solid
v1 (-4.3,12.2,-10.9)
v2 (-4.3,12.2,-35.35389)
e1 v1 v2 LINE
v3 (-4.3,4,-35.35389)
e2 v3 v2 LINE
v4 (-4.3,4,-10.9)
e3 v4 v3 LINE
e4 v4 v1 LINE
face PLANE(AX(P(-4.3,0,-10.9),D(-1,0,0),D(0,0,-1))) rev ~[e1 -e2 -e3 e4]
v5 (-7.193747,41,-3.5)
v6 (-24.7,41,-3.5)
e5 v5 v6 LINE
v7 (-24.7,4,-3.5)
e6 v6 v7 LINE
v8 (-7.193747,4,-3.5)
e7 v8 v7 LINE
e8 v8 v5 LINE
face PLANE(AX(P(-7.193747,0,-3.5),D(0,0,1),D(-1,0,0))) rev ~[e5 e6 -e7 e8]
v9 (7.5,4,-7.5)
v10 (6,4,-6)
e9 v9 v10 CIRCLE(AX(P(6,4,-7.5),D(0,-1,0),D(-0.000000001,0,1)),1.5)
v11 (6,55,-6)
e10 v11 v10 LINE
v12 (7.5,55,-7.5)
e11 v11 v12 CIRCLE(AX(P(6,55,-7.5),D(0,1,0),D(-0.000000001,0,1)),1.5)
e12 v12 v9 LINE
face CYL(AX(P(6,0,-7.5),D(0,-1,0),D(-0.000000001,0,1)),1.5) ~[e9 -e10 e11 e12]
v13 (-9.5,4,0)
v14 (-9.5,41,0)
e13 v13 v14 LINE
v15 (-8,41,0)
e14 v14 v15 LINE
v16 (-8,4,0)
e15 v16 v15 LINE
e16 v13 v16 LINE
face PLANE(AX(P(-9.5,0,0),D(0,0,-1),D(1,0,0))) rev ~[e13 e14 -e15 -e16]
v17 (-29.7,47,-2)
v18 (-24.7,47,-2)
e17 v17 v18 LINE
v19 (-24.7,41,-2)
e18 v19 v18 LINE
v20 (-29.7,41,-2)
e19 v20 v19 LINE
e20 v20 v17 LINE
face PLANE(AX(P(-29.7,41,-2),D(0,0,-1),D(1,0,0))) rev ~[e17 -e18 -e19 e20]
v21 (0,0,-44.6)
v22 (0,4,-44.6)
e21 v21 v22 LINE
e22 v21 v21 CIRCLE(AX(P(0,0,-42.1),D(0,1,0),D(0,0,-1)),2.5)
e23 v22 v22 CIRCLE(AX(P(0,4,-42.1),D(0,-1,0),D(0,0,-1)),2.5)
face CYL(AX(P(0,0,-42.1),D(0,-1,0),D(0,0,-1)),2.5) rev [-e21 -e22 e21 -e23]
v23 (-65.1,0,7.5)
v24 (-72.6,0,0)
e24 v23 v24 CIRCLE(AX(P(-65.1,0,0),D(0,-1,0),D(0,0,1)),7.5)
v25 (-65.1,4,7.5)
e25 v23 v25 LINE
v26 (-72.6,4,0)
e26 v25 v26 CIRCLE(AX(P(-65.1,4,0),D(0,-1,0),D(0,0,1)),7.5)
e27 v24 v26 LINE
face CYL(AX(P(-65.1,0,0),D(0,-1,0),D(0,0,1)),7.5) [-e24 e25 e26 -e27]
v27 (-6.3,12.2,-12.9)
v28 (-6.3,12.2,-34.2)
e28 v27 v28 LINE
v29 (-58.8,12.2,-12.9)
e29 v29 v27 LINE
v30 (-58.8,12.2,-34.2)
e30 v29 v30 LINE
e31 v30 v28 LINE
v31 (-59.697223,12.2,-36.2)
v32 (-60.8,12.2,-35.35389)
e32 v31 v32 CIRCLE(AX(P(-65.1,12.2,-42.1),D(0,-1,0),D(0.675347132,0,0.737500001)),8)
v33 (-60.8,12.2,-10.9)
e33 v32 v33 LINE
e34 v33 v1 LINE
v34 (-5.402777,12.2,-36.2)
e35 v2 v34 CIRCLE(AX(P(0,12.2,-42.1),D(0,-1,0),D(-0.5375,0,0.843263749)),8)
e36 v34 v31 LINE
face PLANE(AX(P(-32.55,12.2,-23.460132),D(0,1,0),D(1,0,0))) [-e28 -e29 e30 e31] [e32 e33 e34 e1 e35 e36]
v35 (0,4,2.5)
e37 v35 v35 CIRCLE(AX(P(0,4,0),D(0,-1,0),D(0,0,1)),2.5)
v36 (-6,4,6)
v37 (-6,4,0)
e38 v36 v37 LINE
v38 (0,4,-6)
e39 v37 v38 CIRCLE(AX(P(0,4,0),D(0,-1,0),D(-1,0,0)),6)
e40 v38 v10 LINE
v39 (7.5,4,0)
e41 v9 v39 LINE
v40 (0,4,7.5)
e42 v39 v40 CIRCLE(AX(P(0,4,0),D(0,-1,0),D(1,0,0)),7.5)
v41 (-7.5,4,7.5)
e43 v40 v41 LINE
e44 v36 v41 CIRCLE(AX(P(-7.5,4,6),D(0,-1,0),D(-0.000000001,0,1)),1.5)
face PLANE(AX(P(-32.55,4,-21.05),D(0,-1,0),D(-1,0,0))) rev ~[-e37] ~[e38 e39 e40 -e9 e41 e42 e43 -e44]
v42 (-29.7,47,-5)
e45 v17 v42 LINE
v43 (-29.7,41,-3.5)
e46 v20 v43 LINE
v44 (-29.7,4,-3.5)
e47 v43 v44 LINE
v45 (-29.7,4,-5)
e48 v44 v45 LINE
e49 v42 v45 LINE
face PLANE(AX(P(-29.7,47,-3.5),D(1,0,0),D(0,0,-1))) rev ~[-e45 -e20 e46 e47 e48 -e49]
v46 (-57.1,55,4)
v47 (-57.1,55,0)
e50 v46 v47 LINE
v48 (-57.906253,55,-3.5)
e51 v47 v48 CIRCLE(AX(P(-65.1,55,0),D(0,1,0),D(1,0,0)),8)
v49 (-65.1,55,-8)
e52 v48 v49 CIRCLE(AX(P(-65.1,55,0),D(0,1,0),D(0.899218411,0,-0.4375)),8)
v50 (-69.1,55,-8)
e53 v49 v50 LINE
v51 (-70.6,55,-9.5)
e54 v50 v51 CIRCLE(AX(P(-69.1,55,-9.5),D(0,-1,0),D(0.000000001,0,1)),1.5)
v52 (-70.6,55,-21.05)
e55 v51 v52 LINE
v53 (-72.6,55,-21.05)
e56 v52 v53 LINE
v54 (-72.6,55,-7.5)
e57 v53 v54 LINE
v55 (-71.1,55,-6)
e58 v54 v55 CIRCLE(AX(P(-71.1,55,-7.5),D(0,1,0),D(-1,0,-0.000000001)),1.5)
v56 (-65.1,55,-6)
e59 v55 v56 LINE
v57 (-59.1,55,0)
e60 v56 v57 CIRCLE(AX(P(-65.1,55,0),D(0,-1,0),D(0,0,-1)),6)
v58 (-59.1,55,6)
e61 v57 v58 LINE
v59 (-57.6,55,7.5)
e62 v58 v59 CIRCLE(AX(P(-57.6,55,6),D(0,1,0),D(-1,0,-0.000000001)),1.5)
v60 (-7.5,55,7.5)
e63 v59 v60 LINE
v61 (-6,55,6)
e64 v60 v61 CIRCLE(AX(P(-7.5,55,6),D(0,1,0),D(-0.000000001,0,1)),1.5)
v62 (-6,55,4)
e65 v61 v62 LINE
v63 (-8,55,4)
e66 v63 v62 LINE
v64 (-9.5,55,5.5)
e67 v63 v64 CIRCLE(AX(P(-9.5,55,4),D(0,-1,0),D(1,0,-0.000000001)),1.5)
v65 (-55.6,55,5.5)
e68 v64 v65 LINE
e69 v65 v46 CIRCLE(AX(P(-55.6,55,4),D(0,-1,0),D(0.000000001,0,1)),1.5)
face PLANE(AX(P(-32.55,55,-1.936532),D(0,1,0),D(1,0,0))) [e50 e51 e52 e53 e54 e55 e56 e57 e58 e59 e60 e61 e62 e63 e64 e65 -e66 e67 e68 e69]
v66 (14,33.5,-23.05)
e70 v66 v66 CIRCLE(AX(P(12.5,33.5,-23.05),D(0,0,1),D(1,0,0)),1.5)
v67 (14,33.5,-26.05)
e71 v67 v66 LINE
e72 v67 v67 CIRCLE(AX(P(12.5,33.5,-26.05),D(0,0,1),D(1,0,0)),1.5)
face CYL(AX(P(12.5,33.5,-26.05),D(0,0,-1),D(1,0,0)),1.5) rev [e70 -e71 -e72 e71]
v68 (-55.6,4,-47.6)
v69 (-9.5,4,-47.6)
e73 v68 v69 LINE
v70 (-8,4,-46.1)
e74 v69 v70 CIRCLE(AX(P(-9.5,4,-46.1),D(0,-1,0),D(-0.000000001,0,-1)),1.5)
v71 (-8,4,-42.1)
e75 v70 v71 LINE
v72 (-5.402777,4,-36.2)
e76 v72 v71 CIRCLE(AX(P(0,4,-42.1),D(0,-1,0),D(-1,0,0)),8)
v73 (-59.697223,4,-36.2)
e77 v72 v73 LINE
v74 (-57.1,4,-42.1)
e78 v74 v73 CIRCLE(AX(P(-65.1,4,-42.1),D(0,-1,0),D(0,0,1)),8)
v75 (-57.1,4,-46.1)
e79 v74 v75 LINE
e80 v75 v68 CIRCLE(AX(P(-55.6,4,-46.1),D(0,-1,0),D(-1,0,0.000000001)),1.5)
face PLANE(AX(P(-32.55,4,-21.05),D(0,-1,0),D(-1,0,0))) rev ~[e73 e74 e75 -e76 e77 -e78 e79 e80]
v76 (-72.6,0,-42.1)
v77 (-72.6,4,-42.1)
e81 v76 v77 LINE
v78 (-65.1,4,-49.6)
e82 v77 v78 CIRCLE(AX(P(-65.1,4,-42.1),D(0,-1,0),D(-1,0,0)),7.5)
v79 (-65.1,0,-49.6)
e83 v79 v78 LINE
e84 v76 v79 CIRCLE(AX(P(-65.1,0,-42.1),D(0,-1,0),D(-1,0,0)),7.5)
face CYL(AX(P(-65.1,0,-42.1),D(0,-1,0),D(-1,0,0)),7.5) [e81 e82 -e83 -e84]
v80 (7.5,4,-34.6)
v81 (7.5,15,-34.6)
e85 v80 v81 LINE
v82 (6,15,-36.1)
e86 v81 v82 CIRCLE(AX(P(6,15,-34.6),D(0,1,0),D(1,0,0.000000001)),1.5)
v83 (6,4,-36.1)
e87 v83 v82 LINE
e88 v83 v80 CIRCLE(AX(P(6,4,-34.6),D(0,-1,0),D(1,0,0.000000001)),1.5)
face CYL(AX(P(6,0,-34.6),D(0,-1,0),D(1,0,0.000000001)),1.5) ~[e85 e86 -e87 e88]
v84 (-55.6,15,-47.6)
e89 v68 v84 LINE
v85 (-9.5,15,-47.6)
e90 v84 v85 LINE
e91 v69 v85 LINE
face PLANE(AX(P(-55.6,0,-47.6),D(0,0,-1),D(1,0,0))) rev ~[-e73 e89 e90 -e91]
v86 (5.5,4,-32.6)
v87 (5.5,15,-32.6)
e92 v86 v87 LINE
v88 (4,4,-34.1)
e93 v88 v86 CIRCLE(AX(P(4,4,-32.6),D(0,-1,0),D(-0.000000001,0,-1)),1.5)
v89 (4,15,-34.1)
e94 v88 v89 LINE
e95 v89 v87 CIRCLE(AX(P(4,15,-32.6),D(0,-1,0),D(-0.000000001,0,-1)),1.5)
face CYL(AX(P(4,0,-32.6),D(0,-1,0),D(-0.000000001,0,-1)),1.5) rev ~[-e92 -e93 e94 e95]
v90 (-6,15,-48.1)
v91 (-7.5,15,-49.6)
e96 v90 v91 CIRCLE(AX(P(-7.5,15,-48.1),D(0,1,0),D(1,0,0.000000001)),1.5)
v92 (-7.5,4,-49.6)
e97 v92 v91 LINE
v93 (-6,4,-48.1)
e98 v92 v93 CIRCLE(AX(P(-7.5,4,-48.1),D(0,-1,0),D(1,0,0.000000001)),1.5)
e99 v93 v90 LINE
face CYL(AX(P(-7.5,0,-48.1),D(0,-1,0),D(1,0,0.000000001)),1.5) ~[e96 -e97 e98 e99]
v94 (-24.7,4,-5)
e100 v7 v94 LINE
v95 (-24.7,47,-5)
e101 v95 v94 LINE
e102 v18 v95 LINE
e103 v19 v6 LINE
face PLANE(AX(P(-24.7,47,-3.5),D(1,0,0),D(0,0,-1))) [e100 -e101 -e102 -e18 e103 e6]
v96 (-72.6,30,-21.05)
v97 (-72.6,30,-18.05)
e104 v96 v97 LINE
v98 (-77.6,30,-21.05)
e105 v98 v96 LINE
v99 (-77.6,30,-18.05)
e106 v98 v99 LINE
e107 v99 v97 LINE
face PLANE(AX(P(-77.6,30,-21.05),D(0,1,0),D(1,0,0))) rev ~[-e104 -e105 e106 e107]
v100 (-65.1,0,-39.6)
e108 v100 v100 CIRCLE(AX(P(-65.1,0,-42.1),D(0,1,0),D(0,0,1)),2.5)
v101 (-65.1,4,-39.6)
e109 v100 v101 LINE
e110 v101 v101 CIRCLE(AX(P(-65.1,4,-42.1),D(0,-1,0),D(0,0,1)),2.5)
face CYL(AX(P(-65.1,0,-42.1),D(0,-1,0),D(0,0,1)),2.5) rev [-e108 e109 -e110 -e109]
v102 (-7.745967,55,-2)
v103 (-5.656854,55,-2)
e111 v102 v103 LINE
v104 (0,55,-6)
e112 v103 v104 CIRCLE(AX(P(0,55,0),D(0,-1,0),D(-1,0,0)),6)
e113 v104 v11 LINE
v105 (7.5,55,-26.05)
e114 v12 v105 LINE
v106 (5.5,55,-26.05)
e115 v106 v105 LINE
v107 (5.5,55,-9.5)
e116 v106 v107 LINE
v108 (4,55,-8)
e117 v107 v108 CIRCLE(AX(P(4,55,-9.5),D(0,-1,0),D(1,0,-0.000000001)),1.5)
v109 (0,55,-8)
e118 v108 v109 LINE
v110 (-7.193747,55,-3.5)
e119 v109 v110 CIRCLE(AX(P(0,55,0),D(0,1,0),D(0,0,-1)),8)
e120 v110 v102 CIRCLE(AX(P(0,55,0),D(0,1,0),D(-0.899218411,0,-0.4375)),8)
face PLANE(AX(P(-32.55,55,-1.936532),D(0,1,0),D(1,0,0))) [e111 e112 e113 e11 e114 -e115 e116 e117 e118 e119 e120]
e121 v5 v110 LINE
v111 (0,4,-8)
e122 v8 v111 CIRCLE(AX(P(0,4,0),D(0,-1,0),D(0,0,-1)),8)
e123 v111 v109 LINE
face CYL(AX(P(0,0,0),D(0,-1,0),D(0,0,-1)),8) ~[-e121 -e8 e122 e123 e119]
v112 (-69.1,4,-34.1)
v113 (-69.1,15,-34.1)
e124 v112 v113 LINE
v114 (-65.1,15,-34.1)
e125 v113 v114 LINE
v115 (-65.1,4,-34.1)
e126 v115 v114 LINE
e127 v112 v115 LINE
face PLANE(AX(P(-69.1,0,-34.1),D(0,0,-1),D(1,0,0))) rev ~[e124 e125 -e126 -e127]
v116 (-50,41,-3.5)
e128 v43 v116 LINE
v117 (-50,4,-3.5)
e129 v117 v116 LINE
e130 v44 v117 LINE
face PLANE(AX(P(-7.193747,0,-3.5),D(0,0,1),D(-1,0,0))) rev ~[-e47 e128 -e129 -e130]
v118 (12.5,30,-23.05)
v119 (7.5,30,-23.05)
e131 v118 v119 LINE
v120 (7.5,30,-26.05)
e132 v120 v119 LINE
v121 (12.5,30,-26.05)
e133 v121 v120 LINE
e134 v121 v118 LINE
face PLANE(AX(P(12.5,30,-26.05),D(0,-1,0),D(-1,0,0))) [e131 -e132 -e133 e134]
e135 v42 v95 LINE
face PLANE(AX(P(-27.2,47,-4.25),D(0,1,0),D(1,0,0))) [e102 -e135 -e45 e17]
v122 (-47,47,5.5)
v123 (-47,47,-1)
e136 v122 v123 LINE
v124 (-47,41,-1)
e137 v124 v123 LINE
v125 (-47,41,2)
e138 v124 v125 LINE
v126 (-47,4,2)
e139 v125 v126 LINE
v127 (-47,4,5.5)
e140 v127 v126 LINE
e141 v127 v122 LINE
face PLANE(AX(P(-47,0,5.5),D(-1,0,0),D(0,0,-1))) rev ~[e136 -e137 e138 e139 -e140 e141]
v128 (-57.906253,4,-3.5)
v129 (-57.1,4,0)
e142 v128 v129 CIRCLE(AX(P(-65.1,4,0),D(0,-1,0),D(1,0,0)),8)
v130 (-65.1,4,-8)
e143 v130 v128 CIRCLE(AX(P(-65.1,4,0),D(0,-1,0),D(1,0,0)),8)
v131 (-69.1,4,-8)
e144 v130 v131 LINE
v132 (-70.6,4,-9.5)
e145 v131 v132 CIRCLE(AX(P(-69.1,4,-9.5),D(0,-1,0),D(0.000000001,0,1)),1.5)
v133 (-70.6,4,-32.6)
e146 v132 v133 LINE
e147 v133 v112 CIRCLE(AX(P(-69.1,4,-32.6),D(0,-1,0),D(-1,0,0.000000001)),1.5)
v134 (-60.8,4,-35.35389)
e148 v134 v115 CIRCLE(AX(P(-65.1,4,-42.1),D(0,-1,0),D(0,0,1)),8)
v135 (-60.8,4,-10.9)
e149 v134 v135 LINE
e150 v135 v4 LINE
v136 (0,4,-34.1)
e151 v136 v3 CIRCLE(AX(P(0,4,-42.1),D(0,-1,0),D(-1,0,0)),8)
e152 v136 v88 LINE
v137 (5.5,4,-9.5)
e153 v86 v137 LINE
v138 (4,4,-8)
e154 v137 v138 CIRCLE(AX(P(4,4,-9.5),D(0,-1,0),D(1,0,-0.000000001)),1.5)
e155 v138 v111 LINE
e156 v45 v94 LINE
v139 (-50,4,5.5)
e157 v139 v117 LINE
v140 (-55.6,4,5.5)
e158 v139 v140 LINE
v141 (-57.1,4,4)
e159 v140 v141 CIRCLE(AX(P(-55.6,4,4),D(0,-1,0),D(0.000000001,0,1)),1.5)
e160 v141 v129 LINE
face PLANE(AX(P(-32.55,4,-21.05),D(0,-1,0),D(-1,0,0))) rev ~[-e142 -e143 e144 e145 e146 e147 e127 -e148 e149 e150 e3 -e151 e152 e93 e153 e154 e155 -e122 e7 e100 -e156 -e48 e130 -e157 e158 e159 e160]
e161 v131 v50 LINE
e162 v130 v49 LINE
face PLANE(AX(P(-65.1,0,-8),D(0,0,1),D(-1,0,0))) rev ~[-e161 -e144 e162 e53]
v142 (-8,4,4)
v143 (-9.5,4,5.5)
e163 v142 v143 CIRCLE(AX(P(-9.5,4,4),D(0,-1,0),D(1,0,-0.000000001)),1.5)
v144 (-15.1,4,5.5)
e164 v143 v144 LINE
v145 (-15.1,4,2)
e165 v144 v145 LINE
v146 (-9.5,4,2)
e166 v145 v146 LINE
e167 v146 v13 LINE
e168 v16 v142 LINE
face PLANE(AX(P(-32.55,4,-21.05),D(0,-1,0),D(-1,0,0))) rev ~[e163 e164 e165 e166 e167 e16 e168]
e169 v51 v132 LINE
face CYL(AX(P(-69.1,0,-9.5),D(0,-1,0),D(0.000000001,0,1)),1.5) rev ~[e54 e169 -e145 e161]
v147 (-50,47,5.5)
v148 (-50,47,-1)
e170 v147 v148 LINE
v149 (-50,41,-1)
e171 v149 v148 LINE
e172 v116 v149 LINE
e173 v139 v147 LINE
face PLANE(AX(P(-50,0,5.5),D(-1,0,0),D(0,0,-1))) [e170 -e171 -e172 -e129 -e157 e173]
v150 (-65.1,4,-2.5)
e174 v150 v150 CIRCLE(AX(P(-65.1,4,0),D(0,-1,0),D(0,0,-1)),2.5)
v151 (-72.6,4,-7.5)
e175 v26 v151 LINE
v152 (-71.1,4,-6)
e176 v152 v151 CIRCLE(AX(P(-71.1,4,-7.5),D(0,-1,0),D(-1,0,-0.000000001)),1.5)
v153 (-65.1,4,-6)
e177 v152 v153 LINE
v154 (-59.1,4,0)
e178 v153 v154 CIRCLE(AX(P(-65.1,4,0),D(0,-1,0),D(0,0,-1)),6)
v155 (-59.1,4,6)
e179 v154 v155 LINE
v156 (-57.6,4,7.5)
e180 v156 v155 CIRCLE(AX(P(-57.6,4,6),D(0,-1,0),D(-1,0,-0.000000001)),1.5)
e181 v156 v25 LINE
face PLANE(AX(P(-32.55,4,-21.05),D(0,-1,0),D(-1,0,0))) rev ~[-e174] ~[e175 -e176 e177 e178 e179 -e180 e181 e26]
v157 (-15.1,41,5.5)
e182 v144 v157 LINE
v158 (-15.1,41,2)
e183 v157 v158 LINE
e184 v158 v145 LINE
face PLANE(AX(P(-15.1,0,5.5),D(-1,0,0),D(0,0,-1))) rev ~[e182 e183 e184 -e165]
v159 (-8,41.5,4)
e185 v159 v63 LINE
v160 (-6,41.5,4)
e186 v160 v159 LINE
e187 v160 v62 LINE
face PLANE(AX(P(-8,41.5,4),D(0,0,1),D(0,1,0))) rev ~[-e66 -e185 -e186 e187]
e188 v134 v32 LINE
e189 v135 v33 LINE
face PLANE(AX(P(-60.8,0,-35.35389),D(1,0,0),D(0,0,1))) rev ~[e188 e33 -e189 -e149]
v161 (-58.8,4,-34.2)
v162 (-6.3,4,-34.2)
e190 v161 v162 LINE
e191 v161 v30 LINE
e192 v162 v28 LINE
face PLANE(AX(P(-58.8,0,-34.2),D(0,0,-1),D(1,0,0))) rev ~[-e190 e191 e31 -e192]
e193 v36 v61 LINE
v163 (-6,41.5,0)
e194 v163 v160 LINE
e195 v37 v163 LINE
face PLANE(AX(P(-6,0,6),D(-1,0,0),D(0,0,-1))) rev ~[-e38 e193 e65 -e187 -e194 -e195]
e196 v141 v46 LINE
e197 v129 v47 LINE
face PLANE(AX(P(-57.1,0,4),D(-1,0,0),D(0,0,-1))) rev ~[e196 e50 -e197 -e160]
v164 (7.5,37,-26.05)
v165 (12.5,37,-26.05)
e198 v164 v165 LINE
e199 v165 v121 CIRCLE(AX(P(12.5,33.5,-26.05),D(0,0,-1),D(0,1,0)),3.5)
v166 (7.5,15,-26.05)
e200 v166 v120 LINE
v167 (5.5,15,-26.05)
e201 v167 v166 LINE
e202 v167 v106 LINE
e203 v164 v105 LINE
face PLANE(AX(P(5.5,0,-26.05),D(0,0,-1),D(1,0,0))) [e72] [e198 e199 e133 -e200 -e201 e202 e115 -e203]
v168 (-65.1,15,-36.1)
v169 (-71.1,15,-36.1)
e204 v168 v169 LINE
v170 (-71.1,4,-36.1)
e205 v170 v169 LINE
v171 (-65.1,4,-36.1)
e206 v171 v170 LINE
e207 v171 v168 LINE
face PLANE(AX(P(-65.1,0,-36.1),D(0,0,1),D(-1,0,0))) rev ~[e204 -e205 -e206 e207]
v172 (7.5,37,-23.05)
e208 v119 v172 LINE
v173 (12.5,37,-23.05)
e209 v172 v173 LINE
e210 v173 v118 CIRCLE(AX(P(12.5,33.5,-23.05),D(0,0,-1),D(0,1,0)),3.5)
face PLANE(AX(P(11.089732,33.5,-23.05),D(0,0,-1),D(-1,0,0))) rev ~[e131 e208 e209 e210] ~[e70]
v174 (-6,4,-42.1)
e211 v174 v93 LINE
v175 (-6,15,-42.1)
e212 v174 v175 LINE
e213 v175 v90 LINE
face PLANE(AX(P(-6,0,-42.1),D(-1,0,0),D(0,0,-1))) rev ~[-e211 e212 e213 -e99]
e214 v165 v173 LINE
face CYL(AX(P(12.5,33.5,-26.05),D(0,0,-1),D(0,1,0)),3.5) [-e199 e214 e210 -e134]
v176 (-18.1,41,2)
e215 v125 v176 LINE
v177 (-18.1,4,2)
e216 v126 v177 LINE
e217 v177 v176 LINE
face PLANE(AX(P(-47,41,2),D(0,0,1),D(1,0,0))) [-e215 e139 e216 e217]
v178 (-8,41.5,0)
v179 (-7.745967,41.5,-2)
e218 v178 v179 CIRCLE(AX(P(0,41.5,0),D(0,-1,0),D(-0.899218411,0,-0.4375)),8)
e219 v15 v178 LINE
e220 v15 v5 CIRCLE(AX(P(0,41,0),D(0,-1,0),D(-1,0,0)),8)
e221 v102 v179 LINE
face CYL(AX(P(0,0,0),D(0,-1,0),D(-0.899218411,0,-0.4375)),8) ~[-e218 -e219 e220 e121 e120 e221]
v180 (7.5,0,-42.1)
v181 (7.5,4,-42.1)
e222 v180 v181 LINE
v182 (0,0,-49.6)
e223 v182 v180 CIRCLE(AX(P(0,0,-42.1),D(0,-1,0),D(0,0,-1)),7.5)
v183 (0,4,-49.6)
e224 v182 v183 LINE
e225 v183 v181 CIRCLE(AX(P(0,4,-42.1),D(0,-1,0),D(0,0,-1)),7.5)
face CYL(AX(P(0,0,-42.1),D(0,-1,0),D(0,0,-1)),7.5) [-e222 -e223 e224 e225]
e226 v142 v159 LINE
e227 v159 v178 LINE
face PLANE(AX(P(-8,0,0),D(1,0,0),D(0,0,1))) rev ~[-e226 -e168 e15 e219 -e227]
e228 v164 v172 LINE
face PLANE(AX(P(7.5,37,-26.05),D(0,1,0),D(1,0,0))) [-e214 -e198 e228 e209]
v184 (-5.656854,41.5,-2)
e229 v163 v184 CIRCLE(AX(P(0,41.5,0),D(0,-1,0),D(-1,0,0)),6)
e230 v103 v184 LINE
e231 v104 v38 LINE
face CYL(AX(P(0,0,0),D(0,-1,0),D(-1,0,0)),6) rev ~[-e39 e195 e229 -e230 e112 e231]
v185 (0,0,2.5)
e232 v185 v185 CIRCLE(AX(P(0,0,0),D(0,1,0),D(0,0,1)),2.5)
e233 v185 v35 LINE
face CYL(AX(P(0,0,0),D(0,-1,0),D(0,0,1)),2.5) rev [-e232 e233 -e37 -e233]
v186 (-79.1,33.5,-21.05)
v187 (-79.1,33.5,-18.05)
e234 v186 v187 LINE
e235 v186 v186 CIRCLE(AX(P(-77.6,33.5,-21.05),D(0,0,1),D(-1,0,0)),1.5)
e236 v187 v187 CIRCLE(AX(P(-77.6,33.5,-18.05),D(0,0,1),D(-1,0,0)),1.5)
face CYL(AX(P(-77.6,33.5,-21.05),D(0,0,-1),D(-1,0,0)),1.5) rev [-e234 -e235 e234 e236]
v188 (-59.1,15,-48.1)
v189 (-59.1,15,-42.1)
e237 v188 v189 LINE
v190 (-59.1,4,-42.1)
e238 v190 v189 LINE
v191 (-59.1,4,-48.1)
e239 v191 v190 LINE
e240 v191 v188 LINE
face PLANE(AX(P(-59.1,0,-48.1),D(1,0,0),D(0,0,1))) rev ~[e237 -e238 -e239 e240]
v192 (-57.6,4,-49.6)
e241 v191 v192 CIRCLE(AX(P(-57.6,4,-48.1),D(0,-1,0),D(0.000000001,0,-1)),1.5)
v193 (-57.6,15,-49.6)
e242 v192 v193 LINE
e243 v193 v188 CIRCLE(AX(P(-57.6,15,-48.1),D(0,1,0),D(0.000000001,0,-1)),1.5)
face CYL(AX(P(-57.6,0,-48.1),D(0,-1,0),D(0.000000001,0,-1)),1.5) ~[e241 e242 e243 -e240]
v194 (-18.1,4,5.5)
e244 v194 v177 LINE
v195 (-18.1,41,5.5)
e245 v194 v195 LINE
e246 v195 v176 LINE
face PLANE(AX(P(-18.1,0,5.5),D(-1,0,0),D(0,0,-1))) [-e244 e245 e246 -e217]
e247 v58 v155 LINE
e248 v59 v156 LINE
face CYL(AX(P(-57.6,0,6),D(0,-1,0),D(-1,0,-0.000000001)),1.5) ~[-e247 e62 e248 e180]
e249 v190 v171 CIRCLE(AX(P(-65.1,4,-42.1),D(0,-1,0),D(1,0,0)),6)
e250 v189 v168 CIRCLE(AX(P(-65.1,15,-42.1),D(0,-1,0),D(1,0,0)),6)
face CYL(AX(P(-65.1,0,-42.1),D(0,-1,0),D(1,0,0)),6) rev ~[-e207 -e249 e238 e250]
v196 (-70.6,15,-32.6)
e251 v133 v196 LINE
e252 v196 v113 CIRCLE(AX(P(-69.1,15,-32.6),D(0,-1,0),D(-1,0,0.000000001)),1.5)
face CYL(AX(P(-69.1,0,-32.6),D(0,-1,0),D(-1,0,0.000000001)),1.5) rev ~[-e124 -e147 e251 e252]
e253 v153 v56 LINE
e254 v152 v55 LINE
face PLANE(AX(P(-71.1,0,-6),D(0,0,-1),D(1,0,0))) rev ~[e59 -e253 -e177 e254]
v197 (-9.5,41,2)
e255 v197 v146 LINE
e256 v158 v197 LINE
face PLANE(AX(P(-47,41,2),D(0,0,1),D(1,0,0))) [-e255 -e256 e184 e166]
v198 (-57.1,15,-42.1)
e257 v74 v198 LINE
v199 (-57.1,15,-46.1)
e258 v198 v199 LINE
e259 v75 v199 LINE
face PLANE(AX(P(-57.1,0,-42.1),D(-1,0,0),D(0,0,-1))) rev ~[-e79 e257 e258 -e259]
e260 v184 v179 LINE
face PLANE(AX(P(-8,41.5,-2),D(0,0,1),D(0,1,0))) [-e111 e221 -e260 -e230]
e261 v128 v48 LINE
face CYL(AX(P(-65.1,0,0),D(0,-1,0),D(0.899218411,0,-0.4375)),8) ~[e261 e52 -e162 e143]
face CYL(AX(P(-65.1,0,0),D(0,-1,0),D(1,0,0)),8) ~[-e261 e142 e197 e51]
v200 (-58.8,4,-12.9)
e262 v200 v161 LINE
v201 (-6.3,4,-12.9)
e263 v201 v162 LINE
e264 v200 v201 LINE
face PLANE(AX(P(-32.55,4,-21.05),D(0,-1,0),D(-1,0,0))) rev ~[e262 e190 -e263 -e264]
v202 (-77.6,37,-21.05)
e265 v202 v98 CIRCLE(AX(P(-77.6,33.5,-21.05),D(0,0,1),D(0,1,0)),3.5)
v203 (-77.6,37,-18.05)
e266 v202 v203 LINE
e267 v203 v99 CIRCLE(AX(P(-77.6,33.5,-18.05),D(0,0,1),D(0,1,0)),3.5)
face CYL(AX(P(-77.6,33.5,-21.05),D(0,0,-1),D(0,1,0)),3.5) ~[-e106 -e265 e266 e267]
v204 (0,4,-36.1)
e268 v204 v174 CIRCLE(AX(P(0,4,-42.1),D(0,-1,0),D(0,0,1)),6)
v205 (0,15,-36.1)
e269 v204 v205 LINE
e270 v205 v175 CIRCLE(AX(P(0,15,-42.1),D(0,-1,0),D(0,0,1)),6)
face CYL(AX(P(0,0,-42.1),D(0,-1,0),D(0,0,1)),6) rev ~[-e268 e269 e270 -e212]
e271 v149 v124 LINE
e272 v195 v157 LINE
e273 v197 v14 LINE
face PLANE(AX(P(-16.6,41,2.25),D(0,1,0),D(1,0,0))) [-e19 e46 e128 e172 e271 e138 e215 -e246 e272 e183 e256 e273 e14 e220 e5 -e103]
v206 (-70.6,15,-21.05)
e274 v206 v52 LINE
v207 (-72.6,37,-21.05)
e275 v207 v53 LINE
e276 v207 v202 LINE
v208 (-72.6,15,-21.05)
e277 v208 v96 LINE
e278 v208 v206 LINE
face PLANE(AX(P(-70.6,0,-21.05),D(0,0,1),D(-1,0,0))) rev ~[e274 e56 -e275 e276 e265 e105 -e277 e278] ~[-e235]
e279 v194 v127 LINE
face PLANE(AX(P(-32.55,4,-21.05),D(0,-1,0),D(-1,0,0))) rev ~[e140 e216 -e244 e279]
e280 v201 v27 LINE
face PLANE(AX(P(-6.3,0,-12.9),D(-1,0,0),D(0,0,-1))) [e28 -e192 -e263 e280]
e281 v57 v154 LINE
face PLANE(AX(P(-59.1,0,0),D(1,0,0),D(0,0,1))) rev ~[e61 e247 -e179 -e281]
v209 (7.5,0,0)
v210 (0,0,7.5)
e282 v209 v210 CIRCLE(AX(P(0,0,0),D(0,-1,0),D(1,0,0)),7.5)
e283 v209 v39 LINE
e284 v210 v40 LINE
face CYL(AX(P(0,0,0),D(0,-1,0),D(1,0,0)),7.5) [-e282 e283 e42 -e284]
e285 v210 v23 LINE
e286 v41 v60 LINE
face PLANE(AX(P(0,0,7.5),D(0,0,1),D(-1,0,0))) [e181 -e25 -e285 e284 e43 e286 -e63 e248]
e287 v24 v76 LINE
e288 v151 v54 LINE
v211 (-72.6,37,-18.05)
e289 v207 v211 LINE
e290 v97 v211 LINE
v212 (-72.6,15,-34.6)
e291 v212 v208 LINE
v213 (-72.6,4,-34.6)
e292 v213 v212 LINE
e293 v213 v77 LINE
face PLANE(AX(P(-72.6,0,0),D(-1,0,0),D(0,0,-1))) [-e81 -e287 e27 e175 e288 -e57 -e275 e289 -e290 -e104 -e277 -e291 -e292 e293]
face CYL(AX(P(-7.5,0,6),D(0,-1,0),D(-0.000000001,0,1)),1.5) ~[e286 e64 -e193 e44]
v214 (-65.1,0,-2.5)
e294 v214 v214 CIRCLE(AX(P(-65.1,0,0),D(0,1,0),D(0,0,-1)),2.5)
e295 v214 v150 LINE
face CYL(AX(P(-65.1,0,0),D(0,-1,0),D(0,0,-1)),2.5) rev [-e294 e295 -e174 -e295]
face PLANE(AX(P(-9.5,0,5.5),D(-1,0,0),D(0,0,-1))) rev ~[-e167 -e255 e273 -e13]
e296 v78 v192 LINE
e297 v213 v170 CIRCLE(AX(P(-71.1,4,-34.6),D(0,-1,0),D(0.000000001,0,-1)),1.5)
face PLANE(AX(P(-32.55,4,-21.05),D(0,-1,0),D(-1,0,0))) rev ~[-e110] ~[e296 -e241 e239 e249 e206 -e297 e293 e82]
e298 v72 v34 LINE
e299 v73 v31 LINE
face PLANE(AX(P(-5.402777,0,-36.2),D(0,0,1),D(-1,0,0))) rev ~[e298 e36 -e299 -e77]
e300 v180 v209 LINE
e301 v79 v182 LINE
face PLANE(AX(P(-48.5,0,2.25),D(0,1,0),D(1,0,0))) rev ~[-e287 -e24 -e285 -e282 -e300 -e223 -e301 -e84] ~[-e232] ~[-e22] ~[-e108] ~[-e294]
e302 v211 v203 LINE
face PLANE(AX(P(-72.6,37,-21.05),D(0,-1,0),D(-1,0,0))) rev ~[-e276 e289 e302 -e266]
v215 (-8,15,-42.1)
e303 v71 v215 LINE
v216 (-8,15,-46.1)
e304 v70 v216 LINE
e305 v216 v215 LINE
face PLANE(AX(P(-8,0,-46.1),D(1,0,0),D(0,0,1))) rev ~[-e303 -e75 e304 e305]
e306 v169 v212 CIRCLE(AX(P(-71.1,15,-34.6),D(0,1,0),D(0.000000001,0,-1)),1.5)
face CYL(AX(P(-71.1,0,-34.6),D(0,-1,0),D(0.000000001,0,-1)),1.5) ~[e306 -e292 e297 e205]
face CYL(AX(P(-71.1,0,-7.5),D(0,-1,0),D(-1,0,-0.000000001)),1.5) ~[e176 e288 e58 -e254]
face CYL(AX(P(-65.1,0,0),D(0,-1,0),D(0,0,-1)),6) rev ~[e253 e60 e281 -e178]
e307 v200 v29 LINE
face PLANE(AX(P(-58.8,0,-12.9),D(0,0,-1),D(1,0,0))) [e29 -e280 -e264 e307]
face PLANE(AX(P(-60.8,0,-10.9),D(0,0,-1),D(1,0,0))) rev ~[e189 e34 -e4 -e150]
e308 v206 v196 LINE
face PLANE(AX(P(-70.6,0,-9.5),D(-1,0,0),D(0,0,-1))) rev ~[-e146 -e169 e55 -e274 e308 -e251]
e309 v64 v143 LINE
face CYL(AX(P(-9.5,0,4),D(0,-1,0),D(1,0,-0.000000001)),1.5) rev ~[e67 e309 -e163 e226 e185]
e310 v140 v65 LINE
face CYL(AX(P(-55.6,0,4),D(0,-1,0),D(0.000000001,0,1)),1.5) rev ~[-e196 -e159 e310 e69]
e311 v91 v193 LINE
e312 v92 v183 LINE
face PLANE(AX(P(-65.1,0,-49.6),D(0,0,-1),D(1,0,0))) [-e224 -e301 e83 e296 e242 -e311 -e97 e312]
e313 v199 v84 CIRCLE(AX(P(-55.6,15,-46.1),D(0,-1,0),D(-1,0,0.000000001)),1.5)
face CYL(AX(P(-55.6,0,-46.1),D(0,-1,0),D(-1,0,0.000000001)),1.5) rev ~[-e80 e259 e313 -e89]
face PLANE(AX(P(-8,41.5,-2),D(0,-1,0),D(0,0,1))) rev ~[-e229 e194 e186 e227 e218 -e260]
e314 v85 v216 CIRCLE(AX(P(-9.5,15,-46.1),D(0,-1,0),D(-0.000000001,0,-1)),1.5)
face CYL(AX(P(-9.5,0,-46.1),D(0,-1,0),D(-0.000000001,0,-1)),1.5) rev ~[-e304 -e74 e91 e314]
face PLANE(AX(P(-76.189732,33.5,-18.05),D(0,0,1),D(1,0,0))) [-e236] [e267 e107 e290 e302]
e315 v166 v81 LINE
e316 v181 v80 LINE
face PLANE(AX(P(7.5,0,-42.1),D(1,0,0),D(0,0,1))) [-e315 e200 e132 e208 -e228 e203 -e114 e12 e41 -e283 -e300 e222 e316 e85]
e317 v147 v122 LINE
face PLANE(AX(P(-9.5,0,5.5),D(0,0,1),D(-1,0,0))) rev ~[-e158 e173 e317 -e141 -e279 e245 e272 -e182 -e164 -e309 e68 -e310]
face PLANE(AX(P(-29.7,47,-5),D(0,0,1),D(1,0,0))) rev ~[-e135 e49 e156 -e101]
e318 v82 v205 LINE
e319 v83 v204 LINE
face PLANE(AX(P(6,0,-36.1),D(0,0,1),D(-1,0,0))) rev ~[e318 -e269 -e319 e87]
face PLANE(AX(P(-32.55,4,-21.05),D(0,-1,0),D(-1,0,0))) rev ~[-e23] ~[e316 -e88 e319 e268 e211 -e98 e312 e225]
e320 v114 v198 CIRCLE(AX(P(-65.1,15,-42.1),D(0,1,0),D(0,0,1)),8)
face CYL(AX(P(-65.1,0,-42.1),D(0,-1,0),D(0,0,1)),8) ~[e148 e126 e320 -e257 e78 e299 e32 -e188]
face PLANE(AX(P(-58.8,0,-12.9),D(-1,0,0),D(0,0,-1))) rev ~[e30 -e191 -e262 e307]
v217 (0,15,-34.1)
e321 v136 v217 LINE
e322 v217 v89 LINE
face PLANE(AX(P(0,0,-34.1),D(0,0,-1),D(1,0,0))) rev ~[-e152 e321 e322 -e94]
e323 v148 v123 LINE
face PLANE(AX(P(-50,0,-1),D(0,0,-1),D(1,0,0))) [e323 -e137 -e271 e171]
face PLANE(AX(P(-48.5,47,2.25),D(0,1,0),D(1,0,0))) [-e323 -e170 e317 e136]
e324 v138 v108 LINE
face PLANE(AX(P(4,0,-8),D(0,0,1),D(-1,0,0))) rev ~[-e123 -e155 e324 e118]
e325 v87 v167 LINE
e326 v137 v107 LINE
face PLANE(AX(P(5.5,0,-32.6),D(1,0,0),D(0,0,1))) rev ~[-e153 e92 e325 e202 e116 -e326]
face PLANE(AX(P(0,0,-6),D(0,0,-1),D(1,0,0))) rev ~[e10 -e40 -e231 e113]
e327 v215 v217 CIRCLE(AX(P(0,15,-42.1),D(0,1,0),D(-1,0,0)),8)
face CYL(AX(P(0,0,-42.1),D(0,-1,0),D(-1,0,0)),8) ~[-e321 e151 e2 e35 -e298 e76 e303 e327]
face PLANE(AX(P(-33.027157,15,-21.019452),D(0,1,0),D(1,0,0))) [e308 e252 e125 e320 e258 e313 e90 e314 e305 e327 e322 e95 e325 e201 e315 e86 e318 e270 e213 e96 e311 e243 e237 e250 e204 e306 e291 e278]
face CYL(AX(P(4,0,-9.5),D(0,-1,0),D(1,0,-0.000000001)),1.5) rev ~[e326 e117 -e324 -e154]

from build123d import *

# Parameters (mm, degrees)
EXTRUDE_1_DEPTH     = 4
SKETCH_1_3_R        = 2.5
CUT_EXTRUDE_1_DEPTH = 5
SKETCH_1_4_W        = 52.5
SKETCH_1_4_H        = 21.3
EXTRUDE_2_DEPTH     = 12.2
EXTRUDE_5_DEPTH     = 15
SKETCH_1_8_W        = 2
SKETCH_1_8_H        = 5
EXTRUDE_7_DEPTH     = 55
EXTRUDE_8_DEPTH     = 41
CUT_EXTRUDE_START   = -51.1
SKETCH_4_W          = 6
SKETCH_4_H          = 13.5
CUT_EXTRUDE_2_DEPTH = 2.5
SKETCH_7_W          = 37.5
SKETCH_7_H          = 3.5
CUT_EXTRUDE_3_DEPTH = 37
SKETCH_1_12_W       = 3
SKETCH_1_12_H       = 6.5
EXTRUDE_10_DEPTH    = 41
SKETCH_7_4_W        = 5
SKETCH_7_4_H        = 1.5
EXTRUDE_12_DEPTH    = 6
SKETCH_1_13_W       = 3
SKETCH_1_13_H       = 6.5
EXTRUDE_13_DEPTH    = 47
EXTRUDE_START       = 6
SKETCH_7_5_W        = 5
SKETCH_7_5_H        = 1.5
EXTRUDE_14_DEPTH    = 43
EXTRUDE_START_2     = -28.55
SKETCH_8_R          = 1.5
EXTRUDE_15_DEPTH    = 3
EXTRUDE_START_3     = -33.55
SKETCH_8_3_R        = 1.5
EXTRUDE_16_DEPTH    = 3


with BuildPart() as part:
    # Эскиз1 → Бобышка-Вытянуть1 (new body)
    with BuildSketch(Plane(origin=(0, 0, 0), x_dir=(1, 0, 0), z_dir=(0, 1, 0))):
        with BuildLine():
            Line((-65.1, 49.6), (0, 49.6))
            ThreePointArc((0, 49.6), (5.303300859, 47.403300859), (7.5, 42.1))
            Line((7.5, 42.1), (7.5, 0))
            ThreePointArc((7.5, 0), (5.303300859, -5.303300859), (0, -7.5))
            Line((0, -7.5), (-65.1, -7.5))
            ThreePointArc((-65.1, -7.5), (-70.403300859, -5.303300859), (-72.6, 0))
            Line((-72.6, 0), (-72.6, 42.1))
            ThreePointArc((-72.6, 42.1), (-70.403300859, 47.403300859), (-65.1, 49.6))
        make_face()
    extrude(amount=EXTRUDE_1_DEPTH)

    # Эскиз1<3> → Вырез-Вытянуть1 (cut)
    with BuildSketch(Plane(origin=(0, 0, 0), x_dir=(1, 0, 0), z_dir=(0, 1, 0))):
        with Locations(Location((-65.1, 42.1, 0), (0, 0, 270))):
            Circle(SKETCH_1_3_R)
        with Locations(Location((0, 42.1, 0), (0, 0, 90))):
            Circle(SKETCH_1_3_R)
        with Locations(Location((0, 0, 0), (0, 0, 270))):
            Circle(SKETCH_1_3_R)
        with Locations(Location((-65.1, 0, 0), (0, 0, 90))):
            Circle(SKETCH_1_3_R)
    extrude(amount=CUT_EXTRUDE_1_DEPTH, mode=Mode.SUBTRACT)

    # Эскиз1<4> → Бобышка-Вытянуть2 (add)
    with BuildSketch(Plane(origin=(0, 0, 0), x_dir=(1, 0, 0), z_dir=(0, 1, 0))):
        with BuildLine():
            ThreePointArc((-59.697222936, 36.2), (-60.230200598, 35.752949206), (-60.8, 35.35389001))
            Line((-60.8, 35.35389001), (-60.8, 10.9))
            Line((-60.8, 10.9), (-4.3, 10.9))
            Line((-4.3, 10.9), (-4.3, 35.35389001))
            ThreePointArc((-4.3, 35.35389001), (-4.869799402, 35.752949206), (-5.402777064, 36.2))
            Line((-5.402777064, 36.2), (-59.697222936, 36.2))
        make_face()
        with Locations((-32.55, 23.55)):
            Rectangle(SKETCH_1_4_W, SKETCH_1_4_H, mode=Mode.SUBTRACT)
    extrude(amount=EXTRUDE_2_DEPTH)

    # Эскиз1<7> → Бобышка-Вытянуть5 (add)
    with BuildSketch(Plane(origin=(0, 0, 0), x_dir=(1, 0, 0), z_dir=(0, 1, 0))):
        with BuildLine():
            Line((-7.5, 49.6), (-57.6, 49.6))
            ThreePointArc((-57.6, 49.6), (-58.660660172, 49.160660172), (-59.1, 48.1))
            Line((-59.1, 48.1), (-59.1, 42.1))
            ThreePointArc((-59.1, 42.1), (-60.857359313, 37.857359313), (-65.1, 36.1))
            Line((-65.1, 36.1), (-71.1, 36.1))
            ThreePointArc((-71.1, 36.1), (-72.160660172, 35.660660172), (-72.6, 34.6))
            Line((-72.6, 34.6), (-72.6, 7.5))
            ThreePointArc((-72.6, 7.5), (-72.160660172, 6.439339828), (-71.1, 6))
            Line((-71.1, 6), (-65.1, 6))
            ThreePointArc((-65.1, 6), (-60.857359313, 4.242640687), (-59.1, 0))
            Line((-59.1, 0), (-59.1, -6))
            ThreePointArc((-59.1, -6), (-58.660660172, -7.060660172), (-57.6, -7.5))
            Line((-57.6, -7.5), (-7.5, -7.5))
            ThreePointArc((-7.5, -7.5), (-6.439339828, -7.060660172), (-6, -6))
            Line((-6, -6), (-6, 0))
            ThreePointArc((-6, 0), (-4.242640687, 4.242640687), (0, 6))
            Line((0, 6), (6, 6))
            ThreePointArc((6, 6), (7.060660172, 6.439339828), (7.5, 7.5))
            Line((7.5, 7.5), (7.5, 21.05))
            Line((7.5, 21.05), (5.5, 21.05))
            Line((5.5, 21.05), (5.5, 9.5))
            ThreePointArc((5.5, 9.5), (5.060660172, 8.439339828), (4, 8))
            Line((4, 8), (0, 8))
            ThreePointArc((0, 8), (-5.656854249, 5.656854249), (-8, 0))
            Line((-8, 0), (-8, -4))
            ThreePointArc((-8, -4), (-8.439339828, -5.060660172), (-9.5, -5.5))
            Line((-9.5, -5.5), (-55.6, -5.5))
            ThreePointArc((-55.6, -5.5), (-56.660660172, -5.060660172), (-57.1, -4))
            Line((-57.1, -4), (-57.1, 0))
            ThreePointArc((-57.1, 0), (-59.443145751, 5.656854249), (-65.1, 8))
            Line((-65.1, 8), (-69.1, 8))
            ThreePointArc((-69.1, 8), (-70.160660172, 8.439339828), (-70.6, 9.5))
            Line((-70.6, 9.5), (-70.6, 32.6))
            ThreePointArc((-70.6, 32.6), (-70.160660172, 33.660660172), (-69.1, 34.1))
            Line((-69.1, 34.1), (-65.1, 34.1))
            ThreePointArc((-65.1, 34.1), (-59.443145751, 36.443145751), (-57.1, 42.1))
            Line((-57.1, 42.1), (-57.1, 46.1))
            ThreePointArc((-57.1, 46.1), (-56.660660172, 47.160660172), (-55.6, 47.6))
            Line((-55.6, 47.6), (-9.5, 47.6))
            ThreePointArc((-9.5, 47.6), (-8.439339828, 47.160660172), (-8, 46.1))
            Line((-8, 46.1), (-8, 42.1))
            ThreePointArc((-8, 42.1), (-5.656854249, 36.443145751), (0, 34.1))
            Line((0, 34.1), (4, 34.1))
            ThreePointArc((4, 34.1), (5.060660172, 33.660660172), (5.5, 32.6))
            Line((5.5, 32.6), (5.5, 26.05))
            Line((5.5, 26.05), (7.5, 26.05))
            Line((7.5, 26.05), (7.5, 34.6))
            ThreePointArc((7.5, 34.6), (7.060660172, 35.660660172), (6, 36.1))
            Line((6, 36.1), (0, 36.1))
            ThreePointArc((0, 36.1), (-4.242640687, 37.857359313), (-6, 42.1))
            Line((-6, 42.1), (-6, 48.1))
            ThreePointArc((-6, 48.1), (-6.439339828, 49.160660172), (-7.5, 49.6))
        make_face()
    extrude(amount=EXTRUDE_5_DEPTH)

    # Эскиз1<8> → Бобышка-Вытянуть7 (add)
    with BuildSketch(Plane(origin=(0, 0, 0), x_dir=(1, 0, 0), z_dir=(0, 1, 0))):
        with BuildLine():
            Line((-70.6, 21.05), (-72.6, 21.05))
            Line((-72.6, 21.05), (-72.6, 7.5))
            ThreePointArc((-72.6, 7.5), (-72.160660172, 6.439339828), (-71.1, 6))
            Line((-71.1, 6), (-65.1, 6))
            ThreePointArc((-65.1, 6), (-60.857359313, 4.242640687), (-59.1, 0))
            Line((-59.1, 0), (-59.1, -6))
            ThreePointArc((-59.1, -6), (-58.660660172, -7.060660172), (-57.6, -7.5))
            Line((-57.6, -7.5), (-7.5, -7.5))
            ThreePointArc((-7.5, -7.5), (-6.439339828, -7.060660172), (-6, -6))
            Line((-6, -6), (-6, 0))
            ThreePointArc((-6, 0), (-4.242640687, 4.242640687), (0, 6))
            Line((0, 6), (6, 6))
            ThreePointArc((6, 6), (7.060660172, 6.439339828), (7.5, 7.5))
            Line((7.5, 7.5), (7.5, 21.05))
            Line((7.5, 21.05), (5.5, 21.05))
            Line((5.5, 21.05), (5.5, 9.5))
            ThreePointArc((5.5, 9.5), (5.060660172, 8.439339828), (4, 8))
            Line((4, 8), (0, 8))
            ThreePointArc((0, 8), (-4.242640687, 6.782329983), (-7.193747285, 3.5))
            ThreePointArc((-7.193747285, 3.5), (-7.795831523, 1.795831523), (-8, 0))
            Line((-8, 0), (-8, -4))
            ThreePointArc((-8, -4), (-8.439339828, -5.060660172), (-9.5, -5.5))
            Line((-9.5, -5.5), (-15.1, -5.5))
            Line((-15.1, -5.5), (-18.1, -5.5))
            Line((-18.1, -5.5), (-47, -5.5))
            Line((-47, -5.5), (-50, -5.5))
            Line((-50, -5.5), (-55.6, -5.5))
            ThreePointArc((-55.6, -5.5), (-56.660660172, -5.060660172), (-57.1, -4))
            Line((-57.1, -4), (-57.1, 0))
            ThreePointArc((-57.1, 0), (-57.304168477, 1.795831523), (-57.906252715, 3.5))
            ThreePointArc((-57.906252715, 3.5), (-60.857359313, 6.782329983), (-65.1, 8))
            Line((-65.1, 8), (-69.1, 8))
            ThreePointArc((-69.1, 8), (-70.160660172, 8.439339828), (-70.6, 9.5))
            Line((-70.6, 9.5), (-70.6, 21.05))
        make_face()
        with Locations((6.5, 23.55)):
            Rectangle(SKETCH_1_8_W, SKETCH_1_8_H)
    extrude(amount=EXTRUDE_7_DEPTH)

    # Эскиз1<9> → Бобышка-Вытянуть8 (add)
    with BuildSketch(Plane(origin=(0, 0, 0), x_dir=(1, 0, 0), z_dir=(0, 1, 0))):
        with BuildLine():
            Line((-50, 3.5), (-50, 1))
            Line((-50, 1), (-47, 1))
            Line((-47, 1), (-47, -5.5))
            Line((-47, -5.5), (-18.1, -5.5))
            Line((-18.1, -5.5), (-18.1, 1))
            Line((-18.1, 1), (-15.1, 1))
            Line((-15.1, 1), (-15.1, -5.5))
            Line((-15.1, -5.5), (-9.5, -5.5))
            Line((-9.5, -5.5), (-9.5, 0))
            Line((-9.5, 0), (-8, 0))
            ThreePointArc((-8, 0), (-7.795831523, 1.795831523), (-7.193747285, 3.5))
            Line((-7.193747285, 3.5), (-50, 3.5))
        make_face()
    extrude(amount=EXTRUDE_8_DEPTH)

    # Эскиз4 → Вырез-Вытянуть2 (cut, symmetric)
    with BuildSketch(Plane.ZY.offset(59.1).offset(CUT_EXTRUDE_START)):
        with Locations((1, 48.25)):
            Rectangle(SKETCH_4_W, SKETCH_4_H)
    extrude(amount=CUT_EXTRUDE_2_DEPTH, both=True, mode=Mode.SUBTRACT)

    # Эскиз7 → Вырез-Вытянуть3 (cut)
    with BuildSketch(Plane(origin=(0, 41, 0), x_dir=(1, 0, 0), z_dir=(0, 1, 0))):
        with Locations((-28.25, -3.75)):
            Rectangle(SKETCH_7_W, SKETCH_7_H)
    extrude(amount=-CUT_EXTRUDE_3_DEPTH, mode=Mode.SUBTRACT)

    # Эскиз1<12> → Бобышка-Вытянуть10 (add)
    with BuildSketch(Plane(origin=(0, 0, 0), x_dir=(1, 0, 0), z_dir=(0, 1, 0))):
        with Locations((-16.6, -2.25)):
            Rectangle(SKETCH_1_12_W, SKETCH_1_12_H)
    extrude(amount=EXTRUDE_10_DEPTH)

    # Эскиз7<4> → Бобышка-Вытянуть12 (add)
    with BuildSketch(Plane(origin=(0, 41, 0), x_dir=(1, 0, 0), z_dir=(0, 1, 0))):
        with Locations((-27.2, 2.75)):
            Rectangle(SKETCH_7_4_W, SKETCH_7_4_H)
    extrude(amount=EXTRUDE_12_DEPTH)

    # Эскиз1<13> → Бобышка-Вытянуть13 (add)
    with BuildSketch(Plane(origin=(0, 0, 0), x_dir=(1, 0, 0), z_dir=(0, 1, 0))):
        with Locations((-48.5, -2.25)):
            Rectangle(SKETCH_1_13_W, SKETCH_1_13_H)
    extrude(amount=EXTRUDE_13_DEPTH)

    # Эскиз7<5> → Бобышка-Вытянуть14 (add)
    with BuildSketch(Plane(origin=(0, 41, 0), x_dir=(1, 0, 0), z_dir=(0, 1, 0)).offset(EXTRUDE_START)):
        with Locations((-27.2, 4.25)):
            Rectangle(SKETCH_7_5_W, SKETCH_7_5_H)
    extrude(amount=-EXTRUDE_14_DEPTH)

    # Эскиз8 → Бобышка-Вытянуть15 (add)
    with BuildSketch(Plane.XY.offset(7.5).offset(EXTRUDE_START_2)):
        with BuildLine():
            Line((-72.6, 37), (-77.6, 37))
            ThreePointArc((-77.6, 37), (-81.1, 33.5), (-77.6, 30))
            Line((-77.6, 30), (-72.6, 30))
            Line((-72.6, 30), (-72.6, 37))
        make_face()
        with Locations(Location((-77.6, 33.5, 0), (0, 0, 180))):
            Circle(SKETCH_8_R, mode=Mode.SUBTRACT)
    extrude(amount=EXTRUDE_15_DEPTH)

    # Эскиз8<3> → Бобышка-Вытянуть16 (add)
    with BuildSketch(Plane.XY.offset(7.5).offset(EXTRUDE_START_3)):
        with BuildLine():
            ThreePointArc((12.5, 37), (16, 33.5), (12.5, 30))
            Line((12.5, 30), (7.5, 30))
            Line((7.5, 30), (7.5, 37))
            Line((7.5, 37), (12.5, 37))
        make_face()
        with Locations((12.5, 33.5)):
            Circle(SKETCH_8_3_R, mode=Mode.SUBTRACT)
    extrude(amount=EXTRUDE_16_DEPTH)


solid = part.part
